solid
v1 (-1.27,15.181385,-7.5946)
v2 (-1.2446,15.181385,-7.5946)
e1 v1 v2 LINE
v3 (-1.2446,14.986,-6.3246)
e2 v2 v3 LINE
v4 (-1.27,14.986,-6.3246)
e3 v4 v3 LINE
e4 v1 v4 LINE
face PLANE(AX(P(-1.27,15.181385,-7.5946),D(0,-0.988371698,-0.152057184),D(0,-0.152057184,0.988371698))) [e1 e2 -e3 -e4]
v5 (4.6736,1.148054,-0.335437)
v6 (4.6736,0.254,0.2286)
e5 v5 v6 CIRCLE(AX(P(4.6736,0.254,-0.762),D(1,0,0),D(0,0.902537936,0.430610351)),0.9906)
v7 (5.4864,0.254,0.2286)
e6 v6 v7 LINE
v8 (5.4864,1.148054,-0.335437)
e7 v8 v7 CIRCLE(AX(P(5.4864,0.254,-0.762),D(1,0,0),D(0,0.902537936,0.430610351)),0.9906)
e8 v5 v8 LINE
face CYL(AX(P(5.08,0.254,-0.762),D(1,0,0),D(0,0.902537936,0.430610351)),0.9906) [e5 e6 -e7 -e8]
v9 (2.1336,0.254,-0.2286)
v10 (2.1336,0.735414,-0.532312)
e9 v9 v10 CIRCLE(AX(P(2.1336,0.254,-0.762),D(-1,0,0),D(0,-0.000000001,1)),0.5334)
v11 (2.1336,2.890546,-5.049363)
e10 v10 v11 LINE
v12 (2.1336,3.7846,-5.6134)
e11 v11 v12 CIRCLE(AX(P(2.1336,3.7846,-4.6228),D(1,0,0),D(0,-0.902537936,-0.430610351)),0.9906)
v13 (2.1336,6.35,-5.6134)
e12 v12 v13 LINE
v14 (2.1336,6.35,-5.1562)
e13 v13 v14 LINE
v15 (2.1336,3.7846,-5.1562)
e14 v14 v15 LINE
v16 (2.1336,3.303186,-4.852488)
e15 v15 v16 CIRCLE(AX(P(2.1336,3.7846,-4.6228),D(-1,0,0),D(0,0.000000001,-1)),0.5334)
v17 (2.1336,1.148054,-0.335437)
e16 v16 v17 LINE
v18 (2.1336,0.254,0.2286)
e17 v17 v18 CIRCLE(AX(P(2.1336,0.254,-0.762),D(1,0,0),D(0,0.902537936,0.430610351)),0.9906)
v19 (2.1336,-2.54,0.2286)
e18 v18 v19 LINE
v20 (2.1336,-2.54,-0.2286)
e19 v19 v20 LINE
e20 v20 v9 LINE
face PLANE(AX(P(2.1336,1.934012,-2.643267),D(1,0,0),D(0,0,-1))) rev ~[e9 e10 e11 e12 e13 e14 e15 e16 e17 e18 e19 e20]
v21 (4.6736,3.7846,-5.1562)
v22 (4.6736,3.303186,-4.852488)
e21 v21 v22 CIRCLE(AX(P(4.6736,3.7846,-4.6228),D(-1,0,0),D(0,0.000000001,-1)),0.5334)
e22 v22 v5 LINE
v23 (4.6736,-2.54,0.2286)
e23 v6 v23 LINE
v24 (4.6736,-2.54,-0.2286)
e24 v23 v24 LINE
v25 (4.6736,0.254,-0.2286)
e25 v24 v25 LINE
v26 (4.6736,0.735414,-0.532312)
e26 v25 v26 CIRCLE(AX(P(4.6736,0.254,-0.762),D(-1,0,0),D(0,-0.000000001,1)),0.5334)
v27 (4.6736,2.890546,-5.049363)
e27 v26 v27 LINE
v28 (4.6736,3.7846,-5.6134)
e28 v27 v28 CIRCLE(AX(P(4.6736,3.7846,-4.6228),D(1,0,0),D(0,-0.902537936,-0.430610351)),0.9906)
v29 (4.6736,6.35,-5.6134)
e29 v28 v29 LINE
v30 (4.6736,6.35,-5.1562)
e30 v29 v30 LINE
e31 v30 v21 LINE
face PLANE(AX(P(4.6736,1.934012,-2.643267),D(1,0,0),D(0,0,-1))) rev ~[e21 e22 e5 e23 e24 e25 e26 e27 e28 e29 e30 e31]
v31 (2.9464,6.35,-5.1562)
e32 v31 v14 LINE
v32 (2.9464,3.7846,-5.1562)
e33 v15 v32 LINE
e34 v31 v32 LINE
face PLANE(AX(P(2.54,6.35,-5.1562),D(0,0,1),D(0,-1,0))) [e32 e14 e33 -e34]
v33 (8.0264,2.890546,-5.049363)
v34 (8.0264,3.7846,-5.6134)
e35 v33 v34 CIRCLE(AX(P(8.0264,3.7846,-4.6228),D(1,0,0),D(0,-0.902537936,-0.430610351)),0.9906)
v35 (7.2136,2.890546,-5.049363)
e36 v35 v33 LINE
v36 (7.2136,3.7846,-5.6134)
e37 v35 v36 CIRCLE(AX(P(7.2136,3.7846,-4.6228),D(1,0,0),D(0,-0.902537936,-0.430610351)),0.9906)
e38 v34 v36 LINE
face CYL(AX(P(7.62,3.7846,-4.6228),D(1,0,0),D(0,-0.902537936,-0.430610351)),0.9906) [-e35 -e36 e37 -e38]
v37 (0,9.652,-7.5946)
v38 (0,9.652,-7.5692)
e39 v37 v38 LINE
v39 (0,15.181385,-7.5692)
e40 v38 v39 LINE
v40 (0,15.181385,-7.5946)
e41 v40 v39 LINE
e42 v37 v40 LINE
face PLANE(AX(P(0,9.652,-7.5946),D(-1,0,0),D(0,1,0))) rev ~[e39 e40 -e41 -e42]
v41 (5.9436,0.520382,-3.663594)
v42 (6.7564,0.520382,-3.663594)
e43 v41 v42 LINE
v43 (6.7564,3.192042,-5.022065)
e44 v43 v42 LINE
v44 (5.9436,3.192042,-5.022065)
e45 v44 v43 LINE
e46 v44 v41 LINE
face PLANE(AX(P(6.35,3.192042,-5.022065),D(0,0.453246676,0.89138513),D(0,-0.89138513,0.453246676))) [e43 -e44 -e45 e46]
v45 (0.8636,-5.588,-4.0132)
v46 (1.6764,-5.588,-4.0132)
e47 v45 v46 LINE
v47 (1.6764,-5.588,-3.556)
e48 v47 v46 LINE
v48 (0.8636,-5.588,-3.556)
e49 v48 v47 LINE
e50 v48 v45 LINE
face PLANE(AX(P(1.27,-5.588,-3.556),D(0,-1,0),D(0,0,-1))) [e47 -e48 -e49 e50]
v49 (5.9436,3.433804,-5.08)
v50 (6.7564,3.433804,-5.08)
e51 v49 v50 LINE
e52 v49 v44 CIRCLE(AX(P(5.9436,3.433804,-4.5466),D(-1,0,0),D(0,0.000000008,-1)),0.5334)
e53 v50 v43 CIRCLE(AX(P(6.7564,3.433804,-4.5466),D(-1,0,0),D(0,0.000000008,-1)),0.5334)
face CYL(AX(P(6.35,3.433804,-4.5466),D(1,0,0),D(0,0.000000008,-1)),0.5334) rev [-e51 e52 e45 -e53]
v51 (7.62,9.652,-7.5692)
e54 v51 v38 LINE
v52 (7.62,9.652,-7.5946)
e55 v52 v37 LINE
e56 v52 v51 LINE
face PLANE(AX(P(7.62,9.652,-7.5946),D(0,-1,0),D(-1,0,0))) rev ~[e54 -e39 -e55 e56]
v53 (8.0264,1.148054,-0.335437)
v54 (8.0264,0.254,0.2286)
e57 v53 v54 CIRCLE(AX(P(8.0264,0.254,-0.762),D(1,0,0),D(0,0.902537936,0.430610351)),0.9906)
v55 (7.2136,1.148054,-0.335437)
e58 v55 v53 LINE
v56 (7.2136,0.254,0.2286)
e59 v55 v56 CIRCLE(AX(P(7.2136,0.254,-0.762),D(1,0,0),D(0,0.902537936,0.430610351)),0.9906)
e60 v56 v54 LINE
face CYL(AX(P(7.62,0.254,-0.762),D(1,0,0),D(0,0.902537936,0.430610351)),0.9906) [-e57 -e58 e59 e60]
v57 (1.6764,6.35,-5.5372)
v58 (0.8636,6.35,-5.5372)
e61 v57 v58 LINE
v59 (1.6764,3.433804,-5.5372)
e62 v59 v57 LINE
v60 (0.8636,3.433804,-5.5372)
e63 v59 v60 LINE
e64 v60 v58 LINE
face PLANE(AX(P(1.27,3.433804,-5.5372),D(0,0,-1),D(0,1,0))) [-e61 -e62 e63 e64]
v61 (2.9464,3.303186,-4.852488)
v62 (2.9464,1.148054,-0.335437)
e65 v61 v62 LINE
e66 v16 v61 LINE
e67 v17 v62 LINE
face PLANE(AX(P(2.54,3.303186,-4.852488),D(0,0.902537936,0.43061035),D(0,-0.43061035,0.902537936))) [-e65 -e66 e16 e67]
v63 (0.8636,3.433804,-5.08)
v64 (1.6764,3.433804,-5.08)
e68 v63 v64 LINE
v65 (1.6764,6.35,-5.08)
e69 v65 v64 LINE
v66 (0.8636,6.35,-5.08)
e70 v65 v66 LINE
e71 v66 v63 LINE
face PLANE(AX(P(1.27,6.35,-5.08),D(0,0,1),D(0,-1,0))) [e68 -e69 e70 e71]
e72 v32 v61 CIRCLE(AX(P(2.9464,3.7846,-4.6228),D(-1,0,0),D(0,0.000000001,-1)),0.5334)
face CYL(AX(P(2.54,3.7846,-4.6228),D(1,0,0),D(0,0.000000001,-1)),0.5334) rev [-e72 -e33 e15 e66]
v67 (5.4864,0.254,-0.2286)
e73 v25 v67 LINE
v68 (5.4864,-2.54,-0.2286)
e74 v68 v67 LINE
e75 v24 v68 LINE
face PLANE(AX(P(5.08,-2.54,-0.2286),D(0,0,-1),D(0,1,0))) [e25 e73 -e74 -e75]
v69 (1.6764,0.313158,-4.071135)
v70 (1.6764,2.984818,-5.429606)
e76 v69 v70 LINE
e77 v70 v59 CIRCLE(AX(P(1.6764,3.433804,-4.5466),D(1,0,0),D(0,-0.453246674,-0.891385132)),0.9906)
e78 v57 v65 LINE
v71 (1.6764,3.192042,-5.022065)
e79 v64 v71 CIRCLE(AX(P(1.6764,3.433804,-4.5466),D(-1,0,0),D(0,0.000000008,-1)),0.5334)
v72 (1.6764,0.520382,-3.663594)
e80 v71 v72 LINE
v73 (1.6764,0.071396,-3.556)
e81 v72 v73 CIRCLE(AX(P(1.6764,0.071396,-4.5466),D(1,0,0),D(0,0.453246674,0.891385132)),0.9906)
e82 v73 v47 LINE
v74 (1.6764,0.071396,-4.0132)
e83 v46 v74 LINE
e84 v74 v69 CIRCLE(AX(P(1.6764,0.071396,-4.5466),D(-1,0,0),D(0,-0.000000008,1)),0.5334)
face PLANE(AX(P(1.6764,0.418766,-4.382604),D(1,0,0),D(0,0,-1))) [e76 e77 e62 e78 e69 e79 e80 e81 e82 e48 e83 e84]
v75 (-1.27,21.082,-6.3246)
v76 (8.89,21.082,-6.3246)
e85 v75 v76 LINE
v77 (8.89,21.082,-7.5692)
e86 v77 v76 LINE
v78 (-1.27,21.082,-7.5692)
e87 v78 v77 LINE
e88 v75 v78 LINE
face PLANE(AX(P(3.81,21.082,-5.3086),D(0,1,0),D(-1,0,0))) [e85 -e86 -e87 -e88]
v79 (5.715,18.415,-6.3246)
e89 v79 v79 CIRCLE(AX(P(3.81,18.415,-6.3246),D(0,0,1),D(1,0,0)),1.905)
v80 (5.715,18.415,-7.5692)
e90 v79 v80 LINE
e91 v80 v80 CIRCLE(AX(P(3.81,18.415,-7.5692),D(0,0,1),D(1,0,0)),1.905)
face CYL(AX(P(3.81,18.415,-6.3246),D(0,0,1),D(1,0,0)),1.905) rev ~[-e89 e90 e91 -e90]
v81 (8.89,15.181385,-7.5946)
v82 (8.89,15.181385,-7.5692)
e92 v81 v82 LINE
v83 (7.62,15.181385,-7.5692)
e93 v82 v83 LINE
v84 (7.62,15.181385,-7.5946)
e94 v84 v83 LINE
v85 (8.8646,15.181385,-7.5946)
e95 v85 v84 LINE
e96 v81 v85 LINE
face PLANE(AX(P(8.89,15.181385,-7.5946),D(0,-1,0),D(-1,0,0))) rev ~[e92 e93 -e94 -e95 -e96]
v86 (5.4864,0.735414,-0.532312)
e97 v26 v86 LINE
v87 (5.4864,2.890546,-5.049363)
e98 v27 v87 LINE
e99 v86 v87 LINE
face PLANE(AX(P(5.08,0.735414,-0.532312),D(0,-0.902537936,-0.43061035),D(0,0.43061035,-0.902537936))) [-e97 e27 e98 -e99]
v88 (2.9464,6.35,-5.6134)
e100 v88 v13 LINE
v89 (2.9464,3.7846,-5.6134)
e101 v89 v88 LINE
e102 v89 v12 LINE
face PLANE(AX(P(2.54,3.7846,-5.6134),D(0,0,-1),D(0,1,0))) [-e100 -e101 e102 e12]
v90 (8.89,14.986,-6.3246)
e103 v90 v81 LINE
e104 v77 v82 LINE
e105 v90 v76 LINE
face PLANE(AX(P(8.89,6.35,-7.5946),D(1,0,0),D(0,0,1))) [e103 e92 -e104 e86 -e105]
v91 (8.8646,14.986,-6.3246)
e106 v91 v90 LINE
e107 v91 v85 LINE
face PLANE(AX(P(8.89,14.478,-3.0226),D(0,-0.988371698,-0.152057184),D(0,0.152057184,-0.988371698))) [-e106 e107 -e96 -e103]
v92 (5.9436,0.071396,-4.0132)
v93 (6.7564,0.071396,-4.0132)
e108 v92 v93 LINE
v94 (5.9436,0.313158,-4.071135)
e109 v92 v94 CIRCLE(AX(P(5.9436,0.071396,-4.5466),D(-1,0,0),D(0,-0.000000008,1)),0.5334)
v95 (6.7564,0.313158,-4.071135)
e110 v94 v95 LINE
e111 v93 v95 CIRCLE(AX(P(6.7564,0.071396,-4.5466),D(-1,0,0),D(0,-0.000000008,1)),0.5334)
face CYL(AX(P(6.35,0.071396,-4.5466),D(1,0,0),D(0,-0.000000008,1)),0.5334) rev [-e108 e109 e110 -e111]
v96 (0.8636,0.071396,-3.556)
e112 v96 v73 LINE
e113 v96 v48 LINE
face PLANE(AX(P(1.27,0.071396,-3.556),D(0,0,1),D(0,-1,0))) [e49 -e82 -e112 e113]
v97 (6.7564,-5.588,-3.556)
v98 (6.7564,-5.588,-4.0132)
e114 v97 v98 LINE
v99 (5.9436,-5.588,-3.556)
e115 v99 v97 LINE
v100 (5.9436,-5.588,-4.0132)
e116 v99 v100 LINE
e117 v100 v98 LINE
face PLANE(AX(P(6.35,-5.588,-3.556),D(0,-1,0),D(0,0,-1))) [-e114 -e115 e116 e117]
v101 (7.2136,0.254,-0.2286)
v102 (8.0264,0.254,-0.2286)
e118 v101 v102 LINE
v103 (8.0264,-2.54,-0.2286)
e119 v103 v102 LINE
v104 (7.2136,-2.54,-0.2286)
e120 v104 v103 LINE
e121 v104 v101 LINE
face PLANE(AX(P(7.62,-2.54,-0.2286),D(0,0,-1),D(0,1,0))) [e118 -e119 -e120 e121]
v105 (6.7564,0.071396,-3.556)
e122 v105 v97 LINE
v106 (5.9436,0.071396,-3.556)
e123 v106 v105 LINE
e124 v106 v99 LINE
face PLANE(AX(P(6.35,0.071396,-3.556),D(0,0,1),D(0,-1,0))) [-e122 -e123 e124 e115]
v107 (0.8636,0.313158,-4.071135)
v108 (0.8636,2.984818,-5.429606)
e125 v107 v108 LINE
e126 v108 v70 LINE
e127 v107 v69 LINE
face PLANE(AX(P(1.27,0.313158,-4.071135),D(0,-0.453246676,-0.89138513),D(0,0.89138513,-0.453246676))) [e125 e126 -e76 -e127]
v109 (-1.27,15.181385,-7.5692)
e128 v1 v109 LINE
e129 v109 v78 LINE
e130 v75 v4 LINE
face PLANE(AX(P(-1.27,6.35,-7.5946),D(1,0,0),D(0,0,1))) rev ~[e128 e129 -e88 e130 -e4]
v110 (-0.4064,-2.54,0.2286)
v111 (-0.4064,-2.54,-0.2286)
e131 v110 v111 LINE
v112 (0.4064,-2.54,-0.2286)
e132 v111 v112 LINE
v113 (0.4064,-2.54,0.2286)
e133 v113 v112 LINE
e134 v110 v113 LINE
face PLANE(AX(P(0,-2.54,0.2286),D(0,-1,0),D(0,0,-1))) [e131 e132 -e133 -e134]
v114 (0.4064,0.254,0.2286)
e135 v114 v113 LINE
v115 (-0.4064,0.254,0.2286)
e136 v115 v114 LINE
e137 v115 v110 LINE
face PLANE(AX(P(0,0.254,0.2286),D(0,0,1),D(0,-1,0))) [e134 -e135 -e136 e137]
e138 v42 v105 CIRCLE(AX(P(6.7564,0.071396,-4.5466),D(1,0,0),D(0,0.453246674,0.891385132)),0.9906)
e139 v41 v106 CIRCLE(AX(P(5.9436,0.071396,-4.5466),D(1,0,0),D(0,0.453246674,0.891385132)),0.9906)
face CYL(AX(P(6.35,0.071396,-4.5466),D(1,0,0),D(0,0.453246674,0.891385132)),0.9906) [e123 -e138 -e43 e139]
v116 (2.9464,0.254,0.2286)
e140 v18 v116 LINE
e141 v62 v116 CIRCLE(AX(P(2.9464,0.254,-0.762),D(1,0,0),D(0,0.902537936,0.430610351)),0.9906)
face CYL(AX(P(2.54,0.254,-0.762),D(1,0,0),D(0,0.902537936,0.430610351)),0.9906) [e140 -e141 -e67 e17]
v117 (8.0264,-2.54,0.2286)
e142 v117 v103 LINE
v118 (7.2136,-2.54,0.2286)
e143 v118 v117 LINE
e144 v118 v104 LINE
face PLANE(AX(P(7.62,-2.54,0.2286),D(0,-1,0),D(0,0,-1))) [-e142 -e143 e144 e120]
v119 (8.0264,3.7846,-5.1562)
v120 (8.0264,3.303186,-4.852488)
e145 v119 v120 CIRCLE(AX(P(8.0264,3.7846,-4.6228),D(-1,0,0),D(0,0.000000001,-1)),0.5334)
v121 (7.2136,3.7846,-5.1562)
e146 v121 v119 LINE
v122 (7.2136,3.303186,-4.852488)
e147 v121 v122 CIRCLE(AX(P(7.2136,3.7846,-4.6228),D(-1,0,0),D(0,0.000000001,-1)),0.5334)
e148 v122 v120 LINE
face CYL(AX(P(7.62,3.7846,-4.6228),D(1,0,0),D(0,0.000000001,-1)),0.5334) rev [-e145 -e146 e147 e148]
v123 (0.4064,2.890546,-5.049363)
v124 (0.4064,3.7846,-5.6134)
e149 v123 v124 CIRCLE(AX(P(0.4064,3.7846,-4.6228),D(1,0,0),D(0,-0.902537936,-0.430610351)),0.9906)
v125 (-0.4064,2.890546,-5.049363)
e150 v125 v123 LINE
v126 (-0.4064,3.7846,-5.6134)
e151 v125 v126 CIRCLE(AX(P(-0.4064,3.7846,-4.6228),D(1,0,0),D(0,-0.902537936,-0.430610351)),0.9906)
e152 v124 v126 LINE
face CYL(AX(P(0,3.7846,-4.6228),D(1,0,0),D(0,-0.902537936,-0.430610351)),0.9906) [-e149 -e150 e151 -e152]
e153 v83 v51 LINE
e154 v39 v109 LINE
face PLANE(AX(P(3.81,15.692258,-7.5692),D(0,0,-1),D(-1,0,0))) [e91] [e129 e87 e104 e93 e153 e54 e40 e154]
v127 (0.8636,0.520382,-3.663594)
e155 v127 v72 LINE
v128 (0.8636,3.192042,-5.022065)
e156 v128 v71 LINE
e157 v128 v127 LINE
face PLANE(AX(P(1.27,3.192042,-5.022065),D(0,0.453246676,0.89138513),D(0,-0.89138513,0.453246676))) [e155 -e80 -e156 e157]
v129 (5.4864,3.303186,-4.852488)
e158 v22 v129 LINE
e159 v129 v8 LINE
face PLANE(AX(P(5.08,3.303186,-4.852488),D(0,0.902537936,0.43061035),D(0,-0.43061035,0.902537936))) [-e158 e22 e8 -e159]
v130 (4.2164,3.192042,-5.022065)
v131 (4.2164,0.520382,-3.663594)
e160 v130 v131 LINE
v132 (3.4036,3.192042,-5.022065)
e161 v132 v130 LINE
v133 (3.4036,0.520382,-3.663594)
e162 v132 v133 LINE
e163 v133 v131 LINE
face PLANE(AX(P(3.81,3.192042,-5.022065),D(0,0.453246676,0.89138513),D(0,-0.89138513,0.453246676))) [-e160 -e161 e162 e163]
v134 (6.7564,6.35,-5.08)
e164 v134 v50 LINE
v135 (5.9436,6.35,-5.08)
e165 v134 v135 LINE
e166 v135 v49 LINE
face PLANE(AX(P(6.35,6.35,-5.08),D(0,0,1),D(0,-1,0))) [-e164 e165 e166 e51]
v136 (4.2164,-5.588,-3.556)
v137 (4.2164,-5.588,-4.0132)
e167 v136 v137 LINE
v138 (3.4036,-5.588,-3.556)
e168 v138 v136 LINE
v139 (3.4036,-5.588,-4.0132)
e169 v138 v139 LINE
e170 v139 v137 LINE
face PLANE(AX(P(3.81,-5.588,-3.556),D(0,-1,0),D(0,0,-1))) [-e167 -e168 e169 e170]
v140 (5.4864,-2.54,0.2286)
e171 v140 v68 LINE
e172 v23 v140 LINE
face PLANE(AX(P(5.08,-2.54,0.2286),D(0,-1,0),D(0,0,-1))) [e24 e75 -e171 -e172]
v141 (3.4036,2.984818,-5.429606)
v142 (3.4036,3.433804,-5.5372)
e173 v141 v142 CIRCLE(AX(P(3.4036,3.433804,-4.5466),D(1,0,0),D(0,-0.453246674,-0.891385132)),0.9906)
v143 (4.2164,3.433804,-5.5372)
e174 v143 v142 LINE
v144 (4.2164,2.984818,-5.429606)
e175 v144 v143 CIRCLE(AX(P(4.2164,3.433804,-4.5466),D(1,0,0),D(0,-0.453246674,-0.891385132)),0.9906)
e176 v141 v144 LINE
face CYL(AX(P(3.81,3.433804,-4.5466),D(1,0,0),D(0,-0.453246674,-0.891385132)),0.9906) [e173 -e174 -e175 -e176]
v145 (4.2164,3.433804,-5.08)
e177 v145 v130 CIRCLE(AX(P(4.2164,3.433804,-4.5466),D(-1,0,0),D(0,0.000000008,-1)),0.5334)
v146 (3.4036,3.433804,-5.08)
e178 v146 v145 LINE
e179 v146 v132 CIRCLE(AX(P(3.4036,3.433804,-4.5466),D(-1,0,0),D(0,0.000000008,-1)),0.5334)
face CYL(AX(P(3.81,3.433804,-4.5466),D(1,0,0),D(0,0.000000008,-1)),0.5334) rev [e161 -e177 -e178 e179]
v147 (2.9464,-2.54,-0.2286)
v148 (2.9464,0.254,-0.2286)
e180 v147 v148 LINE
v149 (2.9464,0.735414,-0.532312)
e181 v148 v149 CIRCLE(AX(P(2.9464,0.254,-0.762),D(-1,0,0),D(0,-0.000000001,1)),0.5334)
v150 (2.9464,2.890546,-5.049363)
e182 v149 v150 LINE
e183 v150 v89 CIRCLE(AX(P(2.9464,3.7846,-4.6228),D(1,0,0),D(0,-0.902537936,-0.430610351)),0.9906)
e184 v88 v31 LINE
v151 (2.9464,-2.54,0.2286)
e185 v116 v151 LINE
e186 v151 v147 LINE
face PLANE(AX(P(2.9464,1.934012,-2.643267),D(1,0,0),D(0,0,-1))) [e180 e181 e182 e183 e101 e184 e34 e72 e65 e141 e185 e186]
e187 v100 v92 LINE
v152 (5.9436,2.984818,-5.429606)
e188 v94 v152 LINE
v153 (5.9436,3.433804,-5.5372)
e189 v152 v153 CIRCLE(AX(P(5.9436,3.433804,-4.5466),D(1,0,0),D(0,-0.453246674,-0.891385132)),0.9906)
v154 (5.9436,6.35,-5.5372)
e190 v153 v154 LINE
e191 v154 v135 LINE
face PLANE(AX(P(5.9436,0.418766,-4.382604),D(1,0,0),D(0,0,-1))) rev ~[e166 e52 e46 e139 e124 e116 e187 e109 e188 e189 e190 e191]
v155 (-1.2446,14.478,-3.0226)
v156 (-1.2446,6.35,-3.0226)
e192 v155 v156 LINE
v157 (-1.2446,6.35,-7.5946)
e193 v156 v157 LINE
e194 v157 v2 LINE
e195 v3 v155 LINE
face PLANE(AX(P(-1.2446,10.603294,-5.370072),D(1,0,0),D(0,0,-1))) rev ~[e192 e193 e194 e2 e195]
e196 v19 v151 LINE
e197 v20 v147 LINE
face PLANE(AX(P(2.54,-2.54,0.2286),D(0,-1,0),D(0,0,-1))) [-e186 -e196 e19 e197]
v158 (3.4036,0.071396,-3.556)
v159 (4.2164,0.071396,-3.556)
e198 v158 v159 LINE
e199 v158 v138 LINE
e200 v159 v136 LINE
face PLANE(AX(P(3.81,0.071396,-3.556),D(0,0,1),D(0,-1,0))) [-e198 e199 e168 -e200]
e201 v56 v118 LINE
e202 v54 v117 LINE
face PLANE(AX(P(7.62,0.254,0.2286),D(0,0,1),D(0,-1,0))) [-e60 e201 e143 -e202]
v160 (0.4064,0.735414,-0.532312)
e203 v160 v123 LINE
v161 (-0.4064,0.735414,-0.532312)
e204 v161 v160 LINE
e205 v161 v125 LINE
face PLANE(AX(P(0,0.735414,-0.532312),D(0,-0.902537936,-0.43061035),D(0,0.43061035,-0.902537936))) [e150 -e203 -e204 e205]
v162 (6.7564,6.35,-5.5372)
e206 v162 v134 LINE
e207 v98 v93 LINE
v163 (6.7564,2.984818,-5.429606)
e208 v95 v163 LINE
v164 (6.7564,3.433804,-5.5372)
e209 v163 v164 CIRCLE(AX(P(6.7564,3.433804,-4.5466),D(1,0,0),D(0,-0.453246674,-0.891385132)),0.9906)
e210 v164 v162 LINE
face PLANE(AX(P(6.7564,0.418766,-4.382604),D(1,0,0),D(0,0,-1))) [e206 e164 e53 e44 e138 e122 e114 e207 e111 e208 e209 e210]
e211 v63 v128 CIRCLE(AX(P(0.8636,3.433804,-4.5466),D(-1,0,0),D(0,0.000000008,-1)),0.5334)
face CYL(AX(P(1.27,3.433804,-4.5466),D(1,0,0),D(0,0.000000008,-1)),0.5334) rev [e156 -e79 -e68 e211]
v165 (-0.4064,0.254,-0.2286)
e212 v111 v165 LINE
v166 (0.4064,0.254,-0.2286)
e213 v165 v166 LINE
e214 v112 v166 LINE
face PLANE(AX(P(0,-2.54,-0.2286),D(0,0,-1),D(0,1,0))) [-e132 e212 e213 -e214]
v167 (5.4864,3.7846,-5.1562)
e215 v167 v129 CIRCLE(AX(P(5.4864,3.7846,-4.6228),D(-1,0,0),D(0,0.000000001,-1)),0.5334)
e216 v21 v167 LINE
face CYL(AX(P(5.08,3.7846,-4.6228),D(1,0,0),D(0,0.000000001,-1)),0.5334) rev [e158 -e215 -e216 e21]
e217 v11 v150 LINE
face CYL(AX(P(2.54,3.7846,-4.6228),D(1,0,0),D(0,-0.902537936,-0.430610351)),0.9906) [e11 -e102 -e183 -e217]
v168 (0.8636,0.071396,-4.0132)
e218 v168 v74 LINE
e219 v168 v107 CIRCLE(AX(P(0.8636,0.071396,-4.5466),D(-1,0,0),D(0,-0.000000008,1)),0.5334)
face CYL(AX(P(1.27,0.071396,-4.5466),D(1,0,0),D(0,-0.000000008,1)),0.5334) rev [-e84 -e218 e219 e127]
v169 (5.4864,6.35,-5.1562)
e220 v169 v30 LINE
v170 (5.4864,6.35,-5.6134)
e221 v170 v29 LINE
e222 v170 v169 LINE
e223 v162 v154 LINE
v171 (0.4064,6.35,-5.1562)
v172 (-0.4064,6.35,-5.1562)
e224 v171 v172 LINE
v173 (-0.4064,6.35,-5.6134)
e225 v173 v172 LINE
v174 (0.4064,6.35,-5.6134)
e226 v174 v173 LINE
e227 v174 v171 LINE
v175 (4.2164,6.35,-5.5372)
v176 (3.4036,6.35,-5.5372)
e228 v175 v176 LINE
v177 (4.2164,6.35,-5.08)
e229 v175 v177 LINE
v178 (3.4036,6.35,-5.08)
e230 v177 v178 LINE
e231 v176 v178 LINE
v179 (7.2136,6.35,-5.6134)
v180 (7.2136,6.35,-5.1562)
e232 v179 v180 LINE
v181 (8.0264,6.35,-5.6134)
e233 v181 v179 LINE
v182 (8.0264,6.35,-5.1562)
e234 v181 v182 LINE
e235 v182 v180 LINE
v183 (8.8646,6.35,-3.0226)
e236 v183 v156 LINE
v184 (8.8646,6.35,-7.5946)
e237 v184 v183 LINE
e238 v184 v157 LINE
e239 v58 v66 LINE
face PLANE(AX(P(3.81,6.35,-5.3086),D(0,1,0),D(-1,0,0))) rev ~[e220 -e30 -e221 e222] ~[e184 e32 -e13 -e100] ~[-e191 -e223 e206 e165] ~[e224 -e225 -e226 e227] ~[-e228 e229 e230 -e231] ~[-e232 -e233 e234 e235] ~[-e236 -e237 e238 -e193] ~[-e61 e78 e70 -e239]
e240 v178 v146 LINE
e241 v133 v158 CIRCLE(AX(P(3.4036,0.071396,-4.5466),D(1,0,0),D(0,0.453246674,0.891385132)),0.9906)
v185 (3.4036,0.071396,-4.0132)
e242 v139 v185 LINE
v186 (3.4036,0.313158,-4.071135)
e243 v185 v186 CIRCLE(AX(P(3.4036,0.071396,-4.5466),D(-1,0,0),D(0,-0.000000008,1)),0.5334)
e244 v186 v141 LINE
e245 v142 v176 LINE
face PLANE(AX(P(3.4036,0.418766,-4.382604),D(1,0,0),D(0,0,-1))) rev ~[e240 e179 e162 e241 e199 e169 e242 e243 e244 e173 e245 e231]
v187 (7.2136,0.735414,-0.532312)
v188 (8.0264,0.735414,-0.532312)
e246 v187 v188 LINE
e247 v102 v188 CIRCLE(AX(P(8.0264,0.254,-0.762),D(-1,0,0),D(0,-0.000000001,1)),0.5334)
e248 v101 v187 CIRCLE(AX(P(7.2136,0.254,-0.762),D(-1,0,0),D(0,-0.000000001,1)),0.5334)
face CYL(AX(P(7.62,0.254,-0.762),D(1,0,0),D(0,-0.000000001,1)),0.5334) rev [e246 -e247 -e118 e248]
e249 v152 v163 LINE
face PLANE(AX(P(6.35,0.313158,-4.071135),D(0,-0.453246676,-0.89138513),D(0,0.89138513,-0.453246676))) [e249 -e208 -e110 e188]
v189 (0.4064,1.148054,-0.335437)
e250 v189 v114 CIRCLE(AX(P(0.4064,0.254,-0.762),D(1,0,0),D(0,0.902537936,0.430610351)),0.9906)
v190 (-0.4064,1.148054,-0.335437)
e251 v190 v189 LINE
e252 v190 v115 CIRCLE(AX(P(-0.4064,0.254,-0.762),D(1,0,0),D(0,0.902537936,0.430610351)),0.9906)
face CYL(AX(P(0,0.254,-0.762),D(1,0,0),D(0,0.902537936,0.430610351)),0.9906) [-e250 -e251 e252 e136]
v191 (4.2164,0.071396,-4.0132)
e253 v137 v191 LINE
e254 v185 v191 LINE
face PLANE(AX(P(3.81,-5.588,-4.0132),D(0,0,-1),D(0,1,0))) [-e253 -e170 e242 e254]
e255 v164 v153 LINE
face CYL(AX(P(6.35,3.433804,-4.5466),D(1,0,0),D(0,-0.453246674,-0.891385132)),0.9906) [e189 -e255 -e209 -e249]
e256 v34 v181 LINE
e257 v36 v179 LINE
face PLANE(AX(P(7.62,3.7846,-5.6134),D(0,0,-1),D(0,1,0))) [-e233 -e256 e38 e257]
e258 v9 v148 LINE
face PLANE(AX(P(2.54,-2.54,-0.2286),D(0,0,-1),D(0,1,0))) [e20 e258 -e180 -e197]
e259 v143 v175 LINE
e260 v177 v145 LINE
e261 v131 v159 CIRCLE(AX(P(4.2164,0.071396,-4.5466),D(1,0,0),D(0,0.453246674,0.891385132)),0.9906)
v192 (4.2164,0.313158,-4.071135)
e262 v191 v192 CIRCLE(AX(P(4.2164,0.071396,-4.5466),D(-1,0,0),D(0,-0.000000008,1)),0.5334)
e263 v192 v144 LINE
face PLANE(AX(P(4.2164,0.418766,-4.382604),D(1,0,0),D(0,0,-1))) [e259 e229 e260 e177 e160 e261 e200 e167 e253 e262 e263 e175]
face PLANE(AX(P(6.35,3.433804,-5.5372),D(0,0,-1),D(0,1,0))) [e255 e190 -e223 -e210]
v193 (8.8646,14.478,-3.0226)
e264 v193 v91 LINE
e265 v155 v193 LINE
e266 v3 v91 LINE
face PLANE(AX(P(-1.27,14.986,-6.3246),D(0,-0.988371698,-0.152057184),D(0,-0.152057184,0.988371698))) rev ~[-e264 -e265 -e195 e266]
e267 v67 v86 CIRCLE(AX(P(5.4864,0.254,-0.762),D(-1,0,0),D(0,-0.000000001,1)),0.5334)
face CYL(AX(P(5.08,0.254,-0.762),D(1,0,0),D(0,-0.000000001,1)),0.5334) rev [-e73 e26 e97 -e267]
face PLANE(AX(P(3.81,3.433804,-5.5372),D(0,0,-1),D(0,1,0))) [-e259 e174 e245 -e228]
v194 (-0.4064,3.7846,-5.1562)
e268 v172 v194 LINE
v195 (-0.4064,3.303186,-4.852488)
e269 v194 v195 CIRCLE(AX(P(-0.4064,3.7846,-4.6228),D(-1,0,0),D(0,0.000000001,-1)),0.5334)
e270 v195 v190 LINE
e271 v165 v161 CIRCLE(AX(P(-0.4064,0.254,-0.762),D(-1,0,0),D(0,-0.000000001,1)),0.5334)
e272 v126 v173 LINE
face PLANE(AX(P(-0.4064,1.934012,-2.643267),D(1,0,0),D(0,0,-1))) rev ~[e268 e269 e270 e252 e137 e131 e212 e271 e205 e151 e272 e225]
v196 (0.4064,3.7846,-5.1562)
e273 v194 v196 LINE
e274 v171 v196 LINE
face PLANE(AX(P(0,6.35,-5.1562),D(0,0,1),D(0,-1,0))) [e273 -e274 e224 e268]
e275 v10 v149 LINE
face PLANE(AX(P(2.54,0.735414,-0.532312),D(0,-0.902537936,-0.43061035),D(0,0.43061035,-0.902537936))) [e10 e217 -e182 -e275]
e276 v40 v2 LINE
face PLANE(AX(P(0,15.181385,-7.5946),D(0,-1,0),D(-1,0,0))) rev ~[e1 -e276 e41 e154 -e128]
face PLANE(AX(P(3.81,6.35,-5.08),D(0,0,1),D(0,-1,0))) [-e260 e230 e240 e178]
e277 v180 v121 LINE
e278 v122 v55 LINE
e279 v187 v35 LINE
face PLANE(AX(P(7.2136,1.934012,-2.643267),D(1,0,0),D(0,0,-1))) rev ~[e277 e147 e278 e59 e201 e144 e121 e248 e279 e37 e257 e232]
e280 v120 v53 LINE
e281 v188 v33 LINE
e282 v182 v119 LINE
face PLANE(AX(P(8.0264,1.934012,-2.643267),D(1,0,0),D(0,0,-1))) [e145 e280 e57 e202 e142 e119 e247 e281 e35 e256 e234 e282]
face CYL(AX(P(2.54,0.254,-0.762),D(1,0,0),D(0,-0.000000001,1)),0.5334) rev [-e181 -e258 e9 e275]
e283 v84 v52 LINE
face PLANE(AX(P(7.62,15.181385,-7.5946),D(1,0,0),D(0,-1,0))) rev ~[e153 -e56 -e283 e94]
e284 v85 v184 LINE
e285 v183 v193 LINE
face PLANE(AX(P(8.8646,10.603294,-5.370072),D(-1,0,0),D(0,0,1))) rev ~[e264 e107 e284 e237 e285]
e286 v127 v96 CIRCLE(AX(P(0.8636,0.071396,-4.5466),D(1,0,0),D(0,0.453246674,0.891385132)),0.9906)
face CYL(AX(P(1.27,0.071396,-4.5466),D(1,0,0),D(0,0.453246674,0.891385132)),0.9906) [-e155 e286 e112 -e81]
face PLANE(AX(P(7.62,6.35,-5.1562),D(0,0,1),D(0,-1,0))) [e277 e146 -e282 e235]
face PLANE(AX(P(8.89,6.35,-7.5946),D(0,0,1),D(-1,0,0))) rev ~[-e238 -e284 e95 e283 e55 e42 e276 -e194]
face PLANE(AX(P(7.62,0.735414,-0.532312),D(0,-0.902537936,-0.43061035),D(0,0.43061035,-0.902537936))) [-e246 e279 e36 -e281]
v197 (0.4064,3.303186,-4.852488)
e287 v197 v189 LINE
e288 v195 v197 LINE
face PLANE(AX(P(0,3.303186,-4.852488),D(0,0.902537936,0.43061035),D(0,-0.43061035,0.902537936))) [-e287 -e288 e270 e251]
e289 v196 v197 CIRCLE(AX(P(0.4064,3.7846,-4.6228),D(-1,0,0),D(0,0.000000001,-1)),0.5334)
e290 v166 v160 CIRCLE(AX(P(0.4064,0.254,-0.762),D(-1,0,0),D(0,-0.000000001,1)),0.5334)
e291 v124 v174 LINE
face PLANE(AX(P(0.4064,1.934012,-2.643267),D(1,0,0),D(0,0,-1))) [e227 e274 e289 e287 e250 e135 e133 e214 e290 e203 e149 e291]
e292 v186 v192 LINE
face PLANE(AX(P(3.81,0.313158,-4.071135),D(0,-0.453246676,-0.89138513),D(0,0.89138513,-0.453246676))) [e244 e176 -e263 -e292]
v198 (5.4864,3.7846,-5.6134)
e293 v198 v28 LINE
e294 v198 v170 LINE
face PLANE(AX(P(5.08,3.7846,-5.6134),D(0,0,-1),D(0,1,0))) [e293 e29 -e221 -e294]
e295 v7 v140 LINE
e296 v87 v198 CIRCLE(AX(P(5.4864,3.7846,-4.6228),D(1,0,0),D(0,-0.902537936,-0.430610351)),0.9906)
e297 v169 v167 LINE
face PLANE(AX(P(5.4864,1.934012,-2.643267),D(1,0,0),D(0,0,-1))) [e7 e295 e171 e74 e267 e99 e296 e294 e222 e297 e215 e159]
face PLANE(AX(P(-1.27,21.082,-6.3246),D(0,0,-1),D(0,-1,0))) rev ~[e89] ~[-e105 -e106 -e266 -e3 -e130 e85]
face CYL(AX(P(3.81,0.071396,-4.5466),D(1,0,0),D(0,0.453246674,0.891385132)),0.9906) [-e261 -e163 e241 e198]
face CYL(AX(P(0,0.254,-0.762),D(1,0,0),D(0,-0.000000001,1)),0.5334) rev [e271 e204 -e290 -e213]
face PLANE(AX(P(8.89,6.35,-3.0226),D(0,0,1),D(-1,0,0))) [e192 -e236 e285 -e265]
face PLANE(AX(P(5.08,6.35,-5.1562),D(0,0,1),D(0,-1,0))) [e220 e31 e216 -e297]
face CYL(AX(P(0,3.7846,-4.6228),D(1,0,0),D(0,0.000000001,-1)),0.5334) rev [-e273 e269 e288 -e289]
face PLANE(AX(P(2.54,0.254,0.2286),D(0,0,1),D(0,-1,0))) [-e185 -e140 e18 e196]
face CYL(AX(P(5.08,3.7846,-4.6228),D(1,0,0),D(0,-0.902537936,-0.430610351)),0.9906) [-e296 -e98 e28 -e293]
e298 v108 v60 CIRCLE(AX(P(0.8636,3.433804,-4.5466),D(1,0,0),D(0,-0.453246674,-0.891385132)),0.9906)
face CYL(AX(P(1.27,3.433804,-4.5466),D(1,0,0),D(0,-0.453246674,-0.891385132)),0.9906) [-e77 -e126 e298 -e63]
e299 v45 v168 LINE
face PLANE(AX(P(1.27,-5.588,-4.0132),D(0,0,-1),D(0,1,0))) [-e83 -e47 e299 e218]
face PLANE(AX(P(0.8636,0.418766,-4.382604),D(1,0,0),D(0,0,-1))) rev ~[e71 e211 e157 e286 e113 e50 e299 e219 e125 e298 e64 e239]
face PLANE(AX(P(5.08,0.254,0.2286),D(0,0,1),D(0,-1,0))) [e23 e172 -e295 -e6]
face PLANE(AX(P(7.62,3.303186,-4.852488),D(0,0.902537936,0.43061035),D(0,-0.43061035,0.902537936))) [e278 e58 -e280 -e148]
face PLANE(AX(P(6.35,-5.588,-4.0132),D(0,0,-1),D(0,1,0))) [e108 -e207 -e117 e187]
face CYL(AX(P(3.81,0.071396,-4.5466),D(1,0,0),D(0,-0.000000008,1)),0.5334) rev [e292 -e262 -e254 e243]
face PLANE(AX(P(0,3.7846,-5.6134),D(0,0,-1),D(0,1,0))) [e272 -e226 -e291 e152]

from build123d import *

# Parameters (mm, degrees)
SKETCH2_W                = 10.16
SKETCH2_H                = 4.572
BASE_EXTRUDE_DEPTH       = 14.732
CUT_EXTRUDE1_DEPTH       = 1
CUT_EXTRUDE1_DEPTH_BACK  = 11.16
CUT_EXTRUDE4_DEPTH       = 0.0254
CUT_EXTRUDE5_DEPTH       = 0.0254
CUT_EXTRUDE6_DEPTH       = 0.0254
BOSS_EXTRUDE_THIN1_DEPTH = 0.4064
LPATTERN2_COUNT          = 4
LPATTERN2_PITCH          = 2.54
BOSS_EXTRUDE_THIN2_DEPTH = 0.4064
LPATTERN3_COUNT          = 3
LPATTERN3_PITCH          = 2.54
SKETCH4_R                = 1.905
CUT_EXTRUDE2_DEPTH       = 14.732


with BuildPart() as part:
    # Sketch2 → Base-Extrude (new body)
    with BuildSketch(Plane(origin=(0, 6.35, 0), x_dir=(-1, 0, 0), z_dir=(0, 1, 0))):
        with Locations((-3.81, -5.3086)):
            Rectangle(SKETCH2_W, SKETCH2_H)
    extrude(amount=BASE_EXTRUDE_DEPTH)

    # Sketch3 → Cut-Extrude1 (cut, two sides)
    with BuildSketch(Plane.ZY.offset(1.27)) as cut_extrude1_sk:
        Polygon((-6.3246, 21.082), (-6.3246, 14.986), (-3.0226, 14.478), (-3.0226, 21.082), align=None)
    extrude(amount=CUT_EXTRUDE1_DEPTH, mode=Mode.SUBTRACT)
    extrude(cut_extrude1_sk.sketch, amount=-CUT_EXTRUDE1_DEPTH_BACK, mode=Mode.SUBTRACT)

    # Sketch5 → Cut-Extrude4 (cut)
    with BuildSketch(Plane.ZY.offset(1.27)):
        Polygon((-7.5946, 15.181384615), (-3.0226, 14.478), (-3.0226, 6.35), (-7.5946, 6.35), align=None)
    extrude(amount=-CUT_EXTRUDE4_DEPTH, mode=Mode.SUBTRACT)

    # Sketch6 → Cut-Extrude5 (cut)
    with BuildSketch(Plane(origin=(8.89, 0, 0), x_dir=(0, 0, -1), z_dir=(1, 0, 0))):
        Polygon((3.0226, 14.478), (7.5946, 15.181384615), (7.5946, 6.35), (3.0226, 6.35), align=None)
    extrude(amount=-CUT_EXTRUDE5_DEPTH, mode=Mode.SUBTRACT)

    # Sketch7 → Cut-Extrude6 (cut)
    with BuildSketch(Plane(origin=(0, 0, -7.5946), x_dir=(-1, 0, 0), z_dir=(0, 0, -1))):
        Polygon((-8.89, 21.082), (-8.89, 15.181384615), (-7.62, 15.181384615), (-7.62, 9.652), (0, 9.652), (0, 15.181384615), (1.27, 15.181384615), (1.27, 21.082), align=None)
    extrude(amount=-CUT_EXTRUDE6_DEPTH, mode=Mode.SUBTRACT)

    # Sketch9 → Boss-Extrude-Thin1 (add, symmetric)
    with BuildSketch(Plane(origin=(0, 0, 0), x_dir=(0, 0, -1), z_dir=(1, 0, 0))):
        with BuildLine():
            Line((5.1562, 6.35), (5.1562, 3.7846))
            ThreePointArc((5.1562, 3.7846), (5.07392687, 3.499994822), (4.852487561, 3.303186265))
            Line((4.852487561, 3.303186265), (0.335437388, 1.14805408))
            ThreePointArc((0.335437388, 1.14805408), (-0.075807043, 0.782552474), (-0.2286, 0.254))
            Line((-0.2286, 0.254), (-0.2286, -2.54))
            Line((-0.2286, -2.54), (0.2286, -2.54))
            Line((0.2286, -2.54), (0.2286, 0.254))
            ThreePointArc((0.2286, 0.254), (0.31087313, 0.538605178), (0.532312439, 0.735413735))
            Line((0.532312439, 0.735413735), (5.049362612, 2.89054592))
            ThreePointArc((5.049362612, 2.89054592), (5.460607043, 3.256047526), (5.6134, 3.7846))
            Line((5.6134, 3.7846), (5.6134, 6.35))
            Line((5.6134, 6.35), (5.1562, 6.35))
        make_face()
    boss_extrude_thin1 = extrude(amount=BOSS_EXTRUDE_THIN1_DEPTH, both=True)

    # LPattern2: Boss-Extrude-Thin1 ×4
    with Locations(*[(i * LPATTERN2_PITCH, 0, 0) for i in range(1, LPATTERN2_COUNT)]):
        add(boss_extrude_thin1)

    # Sketch10 → Boss-Extrude-Thin2 (add, symmetric)
    with BuildSketch(Plane(origin=(1.27, 0, 0), x_dir=(0, 0, -1), z_dir=(1, 0, 0))):
        with BuildLine():
            Line((5.08, 6.35), (5.08, 3.433803724))
            ThreePointArc((5.08, 3.433803724), (5.065314035, 3.309500424), (5.022064828, 3.192041946))
            Line((5.022064828, 3.192041946), (3.66359389, 0.520382434))
            ThreePointArc((3.66359389, 0.520382434), (3.583273936, 0.302245261), (3.556, 0.071396276))
            Line((3.556, 0.071396276), (3.556, -5.588))
            Line((3.556, -5.588), (4.0132, -5.588))
            Line((4.0132, -5.588), (4.0132, 0.071396276))
            ThreePointArc((4.0132, 0.071396276), (4.027885965, 0.195699576), (4.071135172, 0.313158054))
            Line((4.071135172, 0.313158054), (5.42960611, 2.984817566))
            ThreePointArc((5.42960611, 2.984817566), (5.509926064, 3.202954739), (5.5372, 3.433803724))
            Line((5.5372, 3.433803724), (5.5372, 6.35))
            Line((5.5372, 6.35), (5.08, 6.35))
        make_face()
    boss_extrude_thin2 = extrude(amount=BOSS_EXTRUDE_THIN2_DEPTH, both=True)

    # LPattern3: Boss-Extrude-Thin2 ×3
    with Locations(*[(i * LPATTERN3_PITCH, 0, 0) for i in range(1, LPATTERN3_COUNT)]):
        add(boss_extrude_thin2)

    # Sketch4 → Cut-Extrude2 (cut)
    with BuildSketch(Plane.XY.offset(-6.3246)):
        with Locations((3.81, 18.415)):
            Circle(SKETCH4_R)
    extrude(amount=-CUT_EXTRUDE2_DEPTH, mode=Mode.SUBTRACT)


solid = part.part
